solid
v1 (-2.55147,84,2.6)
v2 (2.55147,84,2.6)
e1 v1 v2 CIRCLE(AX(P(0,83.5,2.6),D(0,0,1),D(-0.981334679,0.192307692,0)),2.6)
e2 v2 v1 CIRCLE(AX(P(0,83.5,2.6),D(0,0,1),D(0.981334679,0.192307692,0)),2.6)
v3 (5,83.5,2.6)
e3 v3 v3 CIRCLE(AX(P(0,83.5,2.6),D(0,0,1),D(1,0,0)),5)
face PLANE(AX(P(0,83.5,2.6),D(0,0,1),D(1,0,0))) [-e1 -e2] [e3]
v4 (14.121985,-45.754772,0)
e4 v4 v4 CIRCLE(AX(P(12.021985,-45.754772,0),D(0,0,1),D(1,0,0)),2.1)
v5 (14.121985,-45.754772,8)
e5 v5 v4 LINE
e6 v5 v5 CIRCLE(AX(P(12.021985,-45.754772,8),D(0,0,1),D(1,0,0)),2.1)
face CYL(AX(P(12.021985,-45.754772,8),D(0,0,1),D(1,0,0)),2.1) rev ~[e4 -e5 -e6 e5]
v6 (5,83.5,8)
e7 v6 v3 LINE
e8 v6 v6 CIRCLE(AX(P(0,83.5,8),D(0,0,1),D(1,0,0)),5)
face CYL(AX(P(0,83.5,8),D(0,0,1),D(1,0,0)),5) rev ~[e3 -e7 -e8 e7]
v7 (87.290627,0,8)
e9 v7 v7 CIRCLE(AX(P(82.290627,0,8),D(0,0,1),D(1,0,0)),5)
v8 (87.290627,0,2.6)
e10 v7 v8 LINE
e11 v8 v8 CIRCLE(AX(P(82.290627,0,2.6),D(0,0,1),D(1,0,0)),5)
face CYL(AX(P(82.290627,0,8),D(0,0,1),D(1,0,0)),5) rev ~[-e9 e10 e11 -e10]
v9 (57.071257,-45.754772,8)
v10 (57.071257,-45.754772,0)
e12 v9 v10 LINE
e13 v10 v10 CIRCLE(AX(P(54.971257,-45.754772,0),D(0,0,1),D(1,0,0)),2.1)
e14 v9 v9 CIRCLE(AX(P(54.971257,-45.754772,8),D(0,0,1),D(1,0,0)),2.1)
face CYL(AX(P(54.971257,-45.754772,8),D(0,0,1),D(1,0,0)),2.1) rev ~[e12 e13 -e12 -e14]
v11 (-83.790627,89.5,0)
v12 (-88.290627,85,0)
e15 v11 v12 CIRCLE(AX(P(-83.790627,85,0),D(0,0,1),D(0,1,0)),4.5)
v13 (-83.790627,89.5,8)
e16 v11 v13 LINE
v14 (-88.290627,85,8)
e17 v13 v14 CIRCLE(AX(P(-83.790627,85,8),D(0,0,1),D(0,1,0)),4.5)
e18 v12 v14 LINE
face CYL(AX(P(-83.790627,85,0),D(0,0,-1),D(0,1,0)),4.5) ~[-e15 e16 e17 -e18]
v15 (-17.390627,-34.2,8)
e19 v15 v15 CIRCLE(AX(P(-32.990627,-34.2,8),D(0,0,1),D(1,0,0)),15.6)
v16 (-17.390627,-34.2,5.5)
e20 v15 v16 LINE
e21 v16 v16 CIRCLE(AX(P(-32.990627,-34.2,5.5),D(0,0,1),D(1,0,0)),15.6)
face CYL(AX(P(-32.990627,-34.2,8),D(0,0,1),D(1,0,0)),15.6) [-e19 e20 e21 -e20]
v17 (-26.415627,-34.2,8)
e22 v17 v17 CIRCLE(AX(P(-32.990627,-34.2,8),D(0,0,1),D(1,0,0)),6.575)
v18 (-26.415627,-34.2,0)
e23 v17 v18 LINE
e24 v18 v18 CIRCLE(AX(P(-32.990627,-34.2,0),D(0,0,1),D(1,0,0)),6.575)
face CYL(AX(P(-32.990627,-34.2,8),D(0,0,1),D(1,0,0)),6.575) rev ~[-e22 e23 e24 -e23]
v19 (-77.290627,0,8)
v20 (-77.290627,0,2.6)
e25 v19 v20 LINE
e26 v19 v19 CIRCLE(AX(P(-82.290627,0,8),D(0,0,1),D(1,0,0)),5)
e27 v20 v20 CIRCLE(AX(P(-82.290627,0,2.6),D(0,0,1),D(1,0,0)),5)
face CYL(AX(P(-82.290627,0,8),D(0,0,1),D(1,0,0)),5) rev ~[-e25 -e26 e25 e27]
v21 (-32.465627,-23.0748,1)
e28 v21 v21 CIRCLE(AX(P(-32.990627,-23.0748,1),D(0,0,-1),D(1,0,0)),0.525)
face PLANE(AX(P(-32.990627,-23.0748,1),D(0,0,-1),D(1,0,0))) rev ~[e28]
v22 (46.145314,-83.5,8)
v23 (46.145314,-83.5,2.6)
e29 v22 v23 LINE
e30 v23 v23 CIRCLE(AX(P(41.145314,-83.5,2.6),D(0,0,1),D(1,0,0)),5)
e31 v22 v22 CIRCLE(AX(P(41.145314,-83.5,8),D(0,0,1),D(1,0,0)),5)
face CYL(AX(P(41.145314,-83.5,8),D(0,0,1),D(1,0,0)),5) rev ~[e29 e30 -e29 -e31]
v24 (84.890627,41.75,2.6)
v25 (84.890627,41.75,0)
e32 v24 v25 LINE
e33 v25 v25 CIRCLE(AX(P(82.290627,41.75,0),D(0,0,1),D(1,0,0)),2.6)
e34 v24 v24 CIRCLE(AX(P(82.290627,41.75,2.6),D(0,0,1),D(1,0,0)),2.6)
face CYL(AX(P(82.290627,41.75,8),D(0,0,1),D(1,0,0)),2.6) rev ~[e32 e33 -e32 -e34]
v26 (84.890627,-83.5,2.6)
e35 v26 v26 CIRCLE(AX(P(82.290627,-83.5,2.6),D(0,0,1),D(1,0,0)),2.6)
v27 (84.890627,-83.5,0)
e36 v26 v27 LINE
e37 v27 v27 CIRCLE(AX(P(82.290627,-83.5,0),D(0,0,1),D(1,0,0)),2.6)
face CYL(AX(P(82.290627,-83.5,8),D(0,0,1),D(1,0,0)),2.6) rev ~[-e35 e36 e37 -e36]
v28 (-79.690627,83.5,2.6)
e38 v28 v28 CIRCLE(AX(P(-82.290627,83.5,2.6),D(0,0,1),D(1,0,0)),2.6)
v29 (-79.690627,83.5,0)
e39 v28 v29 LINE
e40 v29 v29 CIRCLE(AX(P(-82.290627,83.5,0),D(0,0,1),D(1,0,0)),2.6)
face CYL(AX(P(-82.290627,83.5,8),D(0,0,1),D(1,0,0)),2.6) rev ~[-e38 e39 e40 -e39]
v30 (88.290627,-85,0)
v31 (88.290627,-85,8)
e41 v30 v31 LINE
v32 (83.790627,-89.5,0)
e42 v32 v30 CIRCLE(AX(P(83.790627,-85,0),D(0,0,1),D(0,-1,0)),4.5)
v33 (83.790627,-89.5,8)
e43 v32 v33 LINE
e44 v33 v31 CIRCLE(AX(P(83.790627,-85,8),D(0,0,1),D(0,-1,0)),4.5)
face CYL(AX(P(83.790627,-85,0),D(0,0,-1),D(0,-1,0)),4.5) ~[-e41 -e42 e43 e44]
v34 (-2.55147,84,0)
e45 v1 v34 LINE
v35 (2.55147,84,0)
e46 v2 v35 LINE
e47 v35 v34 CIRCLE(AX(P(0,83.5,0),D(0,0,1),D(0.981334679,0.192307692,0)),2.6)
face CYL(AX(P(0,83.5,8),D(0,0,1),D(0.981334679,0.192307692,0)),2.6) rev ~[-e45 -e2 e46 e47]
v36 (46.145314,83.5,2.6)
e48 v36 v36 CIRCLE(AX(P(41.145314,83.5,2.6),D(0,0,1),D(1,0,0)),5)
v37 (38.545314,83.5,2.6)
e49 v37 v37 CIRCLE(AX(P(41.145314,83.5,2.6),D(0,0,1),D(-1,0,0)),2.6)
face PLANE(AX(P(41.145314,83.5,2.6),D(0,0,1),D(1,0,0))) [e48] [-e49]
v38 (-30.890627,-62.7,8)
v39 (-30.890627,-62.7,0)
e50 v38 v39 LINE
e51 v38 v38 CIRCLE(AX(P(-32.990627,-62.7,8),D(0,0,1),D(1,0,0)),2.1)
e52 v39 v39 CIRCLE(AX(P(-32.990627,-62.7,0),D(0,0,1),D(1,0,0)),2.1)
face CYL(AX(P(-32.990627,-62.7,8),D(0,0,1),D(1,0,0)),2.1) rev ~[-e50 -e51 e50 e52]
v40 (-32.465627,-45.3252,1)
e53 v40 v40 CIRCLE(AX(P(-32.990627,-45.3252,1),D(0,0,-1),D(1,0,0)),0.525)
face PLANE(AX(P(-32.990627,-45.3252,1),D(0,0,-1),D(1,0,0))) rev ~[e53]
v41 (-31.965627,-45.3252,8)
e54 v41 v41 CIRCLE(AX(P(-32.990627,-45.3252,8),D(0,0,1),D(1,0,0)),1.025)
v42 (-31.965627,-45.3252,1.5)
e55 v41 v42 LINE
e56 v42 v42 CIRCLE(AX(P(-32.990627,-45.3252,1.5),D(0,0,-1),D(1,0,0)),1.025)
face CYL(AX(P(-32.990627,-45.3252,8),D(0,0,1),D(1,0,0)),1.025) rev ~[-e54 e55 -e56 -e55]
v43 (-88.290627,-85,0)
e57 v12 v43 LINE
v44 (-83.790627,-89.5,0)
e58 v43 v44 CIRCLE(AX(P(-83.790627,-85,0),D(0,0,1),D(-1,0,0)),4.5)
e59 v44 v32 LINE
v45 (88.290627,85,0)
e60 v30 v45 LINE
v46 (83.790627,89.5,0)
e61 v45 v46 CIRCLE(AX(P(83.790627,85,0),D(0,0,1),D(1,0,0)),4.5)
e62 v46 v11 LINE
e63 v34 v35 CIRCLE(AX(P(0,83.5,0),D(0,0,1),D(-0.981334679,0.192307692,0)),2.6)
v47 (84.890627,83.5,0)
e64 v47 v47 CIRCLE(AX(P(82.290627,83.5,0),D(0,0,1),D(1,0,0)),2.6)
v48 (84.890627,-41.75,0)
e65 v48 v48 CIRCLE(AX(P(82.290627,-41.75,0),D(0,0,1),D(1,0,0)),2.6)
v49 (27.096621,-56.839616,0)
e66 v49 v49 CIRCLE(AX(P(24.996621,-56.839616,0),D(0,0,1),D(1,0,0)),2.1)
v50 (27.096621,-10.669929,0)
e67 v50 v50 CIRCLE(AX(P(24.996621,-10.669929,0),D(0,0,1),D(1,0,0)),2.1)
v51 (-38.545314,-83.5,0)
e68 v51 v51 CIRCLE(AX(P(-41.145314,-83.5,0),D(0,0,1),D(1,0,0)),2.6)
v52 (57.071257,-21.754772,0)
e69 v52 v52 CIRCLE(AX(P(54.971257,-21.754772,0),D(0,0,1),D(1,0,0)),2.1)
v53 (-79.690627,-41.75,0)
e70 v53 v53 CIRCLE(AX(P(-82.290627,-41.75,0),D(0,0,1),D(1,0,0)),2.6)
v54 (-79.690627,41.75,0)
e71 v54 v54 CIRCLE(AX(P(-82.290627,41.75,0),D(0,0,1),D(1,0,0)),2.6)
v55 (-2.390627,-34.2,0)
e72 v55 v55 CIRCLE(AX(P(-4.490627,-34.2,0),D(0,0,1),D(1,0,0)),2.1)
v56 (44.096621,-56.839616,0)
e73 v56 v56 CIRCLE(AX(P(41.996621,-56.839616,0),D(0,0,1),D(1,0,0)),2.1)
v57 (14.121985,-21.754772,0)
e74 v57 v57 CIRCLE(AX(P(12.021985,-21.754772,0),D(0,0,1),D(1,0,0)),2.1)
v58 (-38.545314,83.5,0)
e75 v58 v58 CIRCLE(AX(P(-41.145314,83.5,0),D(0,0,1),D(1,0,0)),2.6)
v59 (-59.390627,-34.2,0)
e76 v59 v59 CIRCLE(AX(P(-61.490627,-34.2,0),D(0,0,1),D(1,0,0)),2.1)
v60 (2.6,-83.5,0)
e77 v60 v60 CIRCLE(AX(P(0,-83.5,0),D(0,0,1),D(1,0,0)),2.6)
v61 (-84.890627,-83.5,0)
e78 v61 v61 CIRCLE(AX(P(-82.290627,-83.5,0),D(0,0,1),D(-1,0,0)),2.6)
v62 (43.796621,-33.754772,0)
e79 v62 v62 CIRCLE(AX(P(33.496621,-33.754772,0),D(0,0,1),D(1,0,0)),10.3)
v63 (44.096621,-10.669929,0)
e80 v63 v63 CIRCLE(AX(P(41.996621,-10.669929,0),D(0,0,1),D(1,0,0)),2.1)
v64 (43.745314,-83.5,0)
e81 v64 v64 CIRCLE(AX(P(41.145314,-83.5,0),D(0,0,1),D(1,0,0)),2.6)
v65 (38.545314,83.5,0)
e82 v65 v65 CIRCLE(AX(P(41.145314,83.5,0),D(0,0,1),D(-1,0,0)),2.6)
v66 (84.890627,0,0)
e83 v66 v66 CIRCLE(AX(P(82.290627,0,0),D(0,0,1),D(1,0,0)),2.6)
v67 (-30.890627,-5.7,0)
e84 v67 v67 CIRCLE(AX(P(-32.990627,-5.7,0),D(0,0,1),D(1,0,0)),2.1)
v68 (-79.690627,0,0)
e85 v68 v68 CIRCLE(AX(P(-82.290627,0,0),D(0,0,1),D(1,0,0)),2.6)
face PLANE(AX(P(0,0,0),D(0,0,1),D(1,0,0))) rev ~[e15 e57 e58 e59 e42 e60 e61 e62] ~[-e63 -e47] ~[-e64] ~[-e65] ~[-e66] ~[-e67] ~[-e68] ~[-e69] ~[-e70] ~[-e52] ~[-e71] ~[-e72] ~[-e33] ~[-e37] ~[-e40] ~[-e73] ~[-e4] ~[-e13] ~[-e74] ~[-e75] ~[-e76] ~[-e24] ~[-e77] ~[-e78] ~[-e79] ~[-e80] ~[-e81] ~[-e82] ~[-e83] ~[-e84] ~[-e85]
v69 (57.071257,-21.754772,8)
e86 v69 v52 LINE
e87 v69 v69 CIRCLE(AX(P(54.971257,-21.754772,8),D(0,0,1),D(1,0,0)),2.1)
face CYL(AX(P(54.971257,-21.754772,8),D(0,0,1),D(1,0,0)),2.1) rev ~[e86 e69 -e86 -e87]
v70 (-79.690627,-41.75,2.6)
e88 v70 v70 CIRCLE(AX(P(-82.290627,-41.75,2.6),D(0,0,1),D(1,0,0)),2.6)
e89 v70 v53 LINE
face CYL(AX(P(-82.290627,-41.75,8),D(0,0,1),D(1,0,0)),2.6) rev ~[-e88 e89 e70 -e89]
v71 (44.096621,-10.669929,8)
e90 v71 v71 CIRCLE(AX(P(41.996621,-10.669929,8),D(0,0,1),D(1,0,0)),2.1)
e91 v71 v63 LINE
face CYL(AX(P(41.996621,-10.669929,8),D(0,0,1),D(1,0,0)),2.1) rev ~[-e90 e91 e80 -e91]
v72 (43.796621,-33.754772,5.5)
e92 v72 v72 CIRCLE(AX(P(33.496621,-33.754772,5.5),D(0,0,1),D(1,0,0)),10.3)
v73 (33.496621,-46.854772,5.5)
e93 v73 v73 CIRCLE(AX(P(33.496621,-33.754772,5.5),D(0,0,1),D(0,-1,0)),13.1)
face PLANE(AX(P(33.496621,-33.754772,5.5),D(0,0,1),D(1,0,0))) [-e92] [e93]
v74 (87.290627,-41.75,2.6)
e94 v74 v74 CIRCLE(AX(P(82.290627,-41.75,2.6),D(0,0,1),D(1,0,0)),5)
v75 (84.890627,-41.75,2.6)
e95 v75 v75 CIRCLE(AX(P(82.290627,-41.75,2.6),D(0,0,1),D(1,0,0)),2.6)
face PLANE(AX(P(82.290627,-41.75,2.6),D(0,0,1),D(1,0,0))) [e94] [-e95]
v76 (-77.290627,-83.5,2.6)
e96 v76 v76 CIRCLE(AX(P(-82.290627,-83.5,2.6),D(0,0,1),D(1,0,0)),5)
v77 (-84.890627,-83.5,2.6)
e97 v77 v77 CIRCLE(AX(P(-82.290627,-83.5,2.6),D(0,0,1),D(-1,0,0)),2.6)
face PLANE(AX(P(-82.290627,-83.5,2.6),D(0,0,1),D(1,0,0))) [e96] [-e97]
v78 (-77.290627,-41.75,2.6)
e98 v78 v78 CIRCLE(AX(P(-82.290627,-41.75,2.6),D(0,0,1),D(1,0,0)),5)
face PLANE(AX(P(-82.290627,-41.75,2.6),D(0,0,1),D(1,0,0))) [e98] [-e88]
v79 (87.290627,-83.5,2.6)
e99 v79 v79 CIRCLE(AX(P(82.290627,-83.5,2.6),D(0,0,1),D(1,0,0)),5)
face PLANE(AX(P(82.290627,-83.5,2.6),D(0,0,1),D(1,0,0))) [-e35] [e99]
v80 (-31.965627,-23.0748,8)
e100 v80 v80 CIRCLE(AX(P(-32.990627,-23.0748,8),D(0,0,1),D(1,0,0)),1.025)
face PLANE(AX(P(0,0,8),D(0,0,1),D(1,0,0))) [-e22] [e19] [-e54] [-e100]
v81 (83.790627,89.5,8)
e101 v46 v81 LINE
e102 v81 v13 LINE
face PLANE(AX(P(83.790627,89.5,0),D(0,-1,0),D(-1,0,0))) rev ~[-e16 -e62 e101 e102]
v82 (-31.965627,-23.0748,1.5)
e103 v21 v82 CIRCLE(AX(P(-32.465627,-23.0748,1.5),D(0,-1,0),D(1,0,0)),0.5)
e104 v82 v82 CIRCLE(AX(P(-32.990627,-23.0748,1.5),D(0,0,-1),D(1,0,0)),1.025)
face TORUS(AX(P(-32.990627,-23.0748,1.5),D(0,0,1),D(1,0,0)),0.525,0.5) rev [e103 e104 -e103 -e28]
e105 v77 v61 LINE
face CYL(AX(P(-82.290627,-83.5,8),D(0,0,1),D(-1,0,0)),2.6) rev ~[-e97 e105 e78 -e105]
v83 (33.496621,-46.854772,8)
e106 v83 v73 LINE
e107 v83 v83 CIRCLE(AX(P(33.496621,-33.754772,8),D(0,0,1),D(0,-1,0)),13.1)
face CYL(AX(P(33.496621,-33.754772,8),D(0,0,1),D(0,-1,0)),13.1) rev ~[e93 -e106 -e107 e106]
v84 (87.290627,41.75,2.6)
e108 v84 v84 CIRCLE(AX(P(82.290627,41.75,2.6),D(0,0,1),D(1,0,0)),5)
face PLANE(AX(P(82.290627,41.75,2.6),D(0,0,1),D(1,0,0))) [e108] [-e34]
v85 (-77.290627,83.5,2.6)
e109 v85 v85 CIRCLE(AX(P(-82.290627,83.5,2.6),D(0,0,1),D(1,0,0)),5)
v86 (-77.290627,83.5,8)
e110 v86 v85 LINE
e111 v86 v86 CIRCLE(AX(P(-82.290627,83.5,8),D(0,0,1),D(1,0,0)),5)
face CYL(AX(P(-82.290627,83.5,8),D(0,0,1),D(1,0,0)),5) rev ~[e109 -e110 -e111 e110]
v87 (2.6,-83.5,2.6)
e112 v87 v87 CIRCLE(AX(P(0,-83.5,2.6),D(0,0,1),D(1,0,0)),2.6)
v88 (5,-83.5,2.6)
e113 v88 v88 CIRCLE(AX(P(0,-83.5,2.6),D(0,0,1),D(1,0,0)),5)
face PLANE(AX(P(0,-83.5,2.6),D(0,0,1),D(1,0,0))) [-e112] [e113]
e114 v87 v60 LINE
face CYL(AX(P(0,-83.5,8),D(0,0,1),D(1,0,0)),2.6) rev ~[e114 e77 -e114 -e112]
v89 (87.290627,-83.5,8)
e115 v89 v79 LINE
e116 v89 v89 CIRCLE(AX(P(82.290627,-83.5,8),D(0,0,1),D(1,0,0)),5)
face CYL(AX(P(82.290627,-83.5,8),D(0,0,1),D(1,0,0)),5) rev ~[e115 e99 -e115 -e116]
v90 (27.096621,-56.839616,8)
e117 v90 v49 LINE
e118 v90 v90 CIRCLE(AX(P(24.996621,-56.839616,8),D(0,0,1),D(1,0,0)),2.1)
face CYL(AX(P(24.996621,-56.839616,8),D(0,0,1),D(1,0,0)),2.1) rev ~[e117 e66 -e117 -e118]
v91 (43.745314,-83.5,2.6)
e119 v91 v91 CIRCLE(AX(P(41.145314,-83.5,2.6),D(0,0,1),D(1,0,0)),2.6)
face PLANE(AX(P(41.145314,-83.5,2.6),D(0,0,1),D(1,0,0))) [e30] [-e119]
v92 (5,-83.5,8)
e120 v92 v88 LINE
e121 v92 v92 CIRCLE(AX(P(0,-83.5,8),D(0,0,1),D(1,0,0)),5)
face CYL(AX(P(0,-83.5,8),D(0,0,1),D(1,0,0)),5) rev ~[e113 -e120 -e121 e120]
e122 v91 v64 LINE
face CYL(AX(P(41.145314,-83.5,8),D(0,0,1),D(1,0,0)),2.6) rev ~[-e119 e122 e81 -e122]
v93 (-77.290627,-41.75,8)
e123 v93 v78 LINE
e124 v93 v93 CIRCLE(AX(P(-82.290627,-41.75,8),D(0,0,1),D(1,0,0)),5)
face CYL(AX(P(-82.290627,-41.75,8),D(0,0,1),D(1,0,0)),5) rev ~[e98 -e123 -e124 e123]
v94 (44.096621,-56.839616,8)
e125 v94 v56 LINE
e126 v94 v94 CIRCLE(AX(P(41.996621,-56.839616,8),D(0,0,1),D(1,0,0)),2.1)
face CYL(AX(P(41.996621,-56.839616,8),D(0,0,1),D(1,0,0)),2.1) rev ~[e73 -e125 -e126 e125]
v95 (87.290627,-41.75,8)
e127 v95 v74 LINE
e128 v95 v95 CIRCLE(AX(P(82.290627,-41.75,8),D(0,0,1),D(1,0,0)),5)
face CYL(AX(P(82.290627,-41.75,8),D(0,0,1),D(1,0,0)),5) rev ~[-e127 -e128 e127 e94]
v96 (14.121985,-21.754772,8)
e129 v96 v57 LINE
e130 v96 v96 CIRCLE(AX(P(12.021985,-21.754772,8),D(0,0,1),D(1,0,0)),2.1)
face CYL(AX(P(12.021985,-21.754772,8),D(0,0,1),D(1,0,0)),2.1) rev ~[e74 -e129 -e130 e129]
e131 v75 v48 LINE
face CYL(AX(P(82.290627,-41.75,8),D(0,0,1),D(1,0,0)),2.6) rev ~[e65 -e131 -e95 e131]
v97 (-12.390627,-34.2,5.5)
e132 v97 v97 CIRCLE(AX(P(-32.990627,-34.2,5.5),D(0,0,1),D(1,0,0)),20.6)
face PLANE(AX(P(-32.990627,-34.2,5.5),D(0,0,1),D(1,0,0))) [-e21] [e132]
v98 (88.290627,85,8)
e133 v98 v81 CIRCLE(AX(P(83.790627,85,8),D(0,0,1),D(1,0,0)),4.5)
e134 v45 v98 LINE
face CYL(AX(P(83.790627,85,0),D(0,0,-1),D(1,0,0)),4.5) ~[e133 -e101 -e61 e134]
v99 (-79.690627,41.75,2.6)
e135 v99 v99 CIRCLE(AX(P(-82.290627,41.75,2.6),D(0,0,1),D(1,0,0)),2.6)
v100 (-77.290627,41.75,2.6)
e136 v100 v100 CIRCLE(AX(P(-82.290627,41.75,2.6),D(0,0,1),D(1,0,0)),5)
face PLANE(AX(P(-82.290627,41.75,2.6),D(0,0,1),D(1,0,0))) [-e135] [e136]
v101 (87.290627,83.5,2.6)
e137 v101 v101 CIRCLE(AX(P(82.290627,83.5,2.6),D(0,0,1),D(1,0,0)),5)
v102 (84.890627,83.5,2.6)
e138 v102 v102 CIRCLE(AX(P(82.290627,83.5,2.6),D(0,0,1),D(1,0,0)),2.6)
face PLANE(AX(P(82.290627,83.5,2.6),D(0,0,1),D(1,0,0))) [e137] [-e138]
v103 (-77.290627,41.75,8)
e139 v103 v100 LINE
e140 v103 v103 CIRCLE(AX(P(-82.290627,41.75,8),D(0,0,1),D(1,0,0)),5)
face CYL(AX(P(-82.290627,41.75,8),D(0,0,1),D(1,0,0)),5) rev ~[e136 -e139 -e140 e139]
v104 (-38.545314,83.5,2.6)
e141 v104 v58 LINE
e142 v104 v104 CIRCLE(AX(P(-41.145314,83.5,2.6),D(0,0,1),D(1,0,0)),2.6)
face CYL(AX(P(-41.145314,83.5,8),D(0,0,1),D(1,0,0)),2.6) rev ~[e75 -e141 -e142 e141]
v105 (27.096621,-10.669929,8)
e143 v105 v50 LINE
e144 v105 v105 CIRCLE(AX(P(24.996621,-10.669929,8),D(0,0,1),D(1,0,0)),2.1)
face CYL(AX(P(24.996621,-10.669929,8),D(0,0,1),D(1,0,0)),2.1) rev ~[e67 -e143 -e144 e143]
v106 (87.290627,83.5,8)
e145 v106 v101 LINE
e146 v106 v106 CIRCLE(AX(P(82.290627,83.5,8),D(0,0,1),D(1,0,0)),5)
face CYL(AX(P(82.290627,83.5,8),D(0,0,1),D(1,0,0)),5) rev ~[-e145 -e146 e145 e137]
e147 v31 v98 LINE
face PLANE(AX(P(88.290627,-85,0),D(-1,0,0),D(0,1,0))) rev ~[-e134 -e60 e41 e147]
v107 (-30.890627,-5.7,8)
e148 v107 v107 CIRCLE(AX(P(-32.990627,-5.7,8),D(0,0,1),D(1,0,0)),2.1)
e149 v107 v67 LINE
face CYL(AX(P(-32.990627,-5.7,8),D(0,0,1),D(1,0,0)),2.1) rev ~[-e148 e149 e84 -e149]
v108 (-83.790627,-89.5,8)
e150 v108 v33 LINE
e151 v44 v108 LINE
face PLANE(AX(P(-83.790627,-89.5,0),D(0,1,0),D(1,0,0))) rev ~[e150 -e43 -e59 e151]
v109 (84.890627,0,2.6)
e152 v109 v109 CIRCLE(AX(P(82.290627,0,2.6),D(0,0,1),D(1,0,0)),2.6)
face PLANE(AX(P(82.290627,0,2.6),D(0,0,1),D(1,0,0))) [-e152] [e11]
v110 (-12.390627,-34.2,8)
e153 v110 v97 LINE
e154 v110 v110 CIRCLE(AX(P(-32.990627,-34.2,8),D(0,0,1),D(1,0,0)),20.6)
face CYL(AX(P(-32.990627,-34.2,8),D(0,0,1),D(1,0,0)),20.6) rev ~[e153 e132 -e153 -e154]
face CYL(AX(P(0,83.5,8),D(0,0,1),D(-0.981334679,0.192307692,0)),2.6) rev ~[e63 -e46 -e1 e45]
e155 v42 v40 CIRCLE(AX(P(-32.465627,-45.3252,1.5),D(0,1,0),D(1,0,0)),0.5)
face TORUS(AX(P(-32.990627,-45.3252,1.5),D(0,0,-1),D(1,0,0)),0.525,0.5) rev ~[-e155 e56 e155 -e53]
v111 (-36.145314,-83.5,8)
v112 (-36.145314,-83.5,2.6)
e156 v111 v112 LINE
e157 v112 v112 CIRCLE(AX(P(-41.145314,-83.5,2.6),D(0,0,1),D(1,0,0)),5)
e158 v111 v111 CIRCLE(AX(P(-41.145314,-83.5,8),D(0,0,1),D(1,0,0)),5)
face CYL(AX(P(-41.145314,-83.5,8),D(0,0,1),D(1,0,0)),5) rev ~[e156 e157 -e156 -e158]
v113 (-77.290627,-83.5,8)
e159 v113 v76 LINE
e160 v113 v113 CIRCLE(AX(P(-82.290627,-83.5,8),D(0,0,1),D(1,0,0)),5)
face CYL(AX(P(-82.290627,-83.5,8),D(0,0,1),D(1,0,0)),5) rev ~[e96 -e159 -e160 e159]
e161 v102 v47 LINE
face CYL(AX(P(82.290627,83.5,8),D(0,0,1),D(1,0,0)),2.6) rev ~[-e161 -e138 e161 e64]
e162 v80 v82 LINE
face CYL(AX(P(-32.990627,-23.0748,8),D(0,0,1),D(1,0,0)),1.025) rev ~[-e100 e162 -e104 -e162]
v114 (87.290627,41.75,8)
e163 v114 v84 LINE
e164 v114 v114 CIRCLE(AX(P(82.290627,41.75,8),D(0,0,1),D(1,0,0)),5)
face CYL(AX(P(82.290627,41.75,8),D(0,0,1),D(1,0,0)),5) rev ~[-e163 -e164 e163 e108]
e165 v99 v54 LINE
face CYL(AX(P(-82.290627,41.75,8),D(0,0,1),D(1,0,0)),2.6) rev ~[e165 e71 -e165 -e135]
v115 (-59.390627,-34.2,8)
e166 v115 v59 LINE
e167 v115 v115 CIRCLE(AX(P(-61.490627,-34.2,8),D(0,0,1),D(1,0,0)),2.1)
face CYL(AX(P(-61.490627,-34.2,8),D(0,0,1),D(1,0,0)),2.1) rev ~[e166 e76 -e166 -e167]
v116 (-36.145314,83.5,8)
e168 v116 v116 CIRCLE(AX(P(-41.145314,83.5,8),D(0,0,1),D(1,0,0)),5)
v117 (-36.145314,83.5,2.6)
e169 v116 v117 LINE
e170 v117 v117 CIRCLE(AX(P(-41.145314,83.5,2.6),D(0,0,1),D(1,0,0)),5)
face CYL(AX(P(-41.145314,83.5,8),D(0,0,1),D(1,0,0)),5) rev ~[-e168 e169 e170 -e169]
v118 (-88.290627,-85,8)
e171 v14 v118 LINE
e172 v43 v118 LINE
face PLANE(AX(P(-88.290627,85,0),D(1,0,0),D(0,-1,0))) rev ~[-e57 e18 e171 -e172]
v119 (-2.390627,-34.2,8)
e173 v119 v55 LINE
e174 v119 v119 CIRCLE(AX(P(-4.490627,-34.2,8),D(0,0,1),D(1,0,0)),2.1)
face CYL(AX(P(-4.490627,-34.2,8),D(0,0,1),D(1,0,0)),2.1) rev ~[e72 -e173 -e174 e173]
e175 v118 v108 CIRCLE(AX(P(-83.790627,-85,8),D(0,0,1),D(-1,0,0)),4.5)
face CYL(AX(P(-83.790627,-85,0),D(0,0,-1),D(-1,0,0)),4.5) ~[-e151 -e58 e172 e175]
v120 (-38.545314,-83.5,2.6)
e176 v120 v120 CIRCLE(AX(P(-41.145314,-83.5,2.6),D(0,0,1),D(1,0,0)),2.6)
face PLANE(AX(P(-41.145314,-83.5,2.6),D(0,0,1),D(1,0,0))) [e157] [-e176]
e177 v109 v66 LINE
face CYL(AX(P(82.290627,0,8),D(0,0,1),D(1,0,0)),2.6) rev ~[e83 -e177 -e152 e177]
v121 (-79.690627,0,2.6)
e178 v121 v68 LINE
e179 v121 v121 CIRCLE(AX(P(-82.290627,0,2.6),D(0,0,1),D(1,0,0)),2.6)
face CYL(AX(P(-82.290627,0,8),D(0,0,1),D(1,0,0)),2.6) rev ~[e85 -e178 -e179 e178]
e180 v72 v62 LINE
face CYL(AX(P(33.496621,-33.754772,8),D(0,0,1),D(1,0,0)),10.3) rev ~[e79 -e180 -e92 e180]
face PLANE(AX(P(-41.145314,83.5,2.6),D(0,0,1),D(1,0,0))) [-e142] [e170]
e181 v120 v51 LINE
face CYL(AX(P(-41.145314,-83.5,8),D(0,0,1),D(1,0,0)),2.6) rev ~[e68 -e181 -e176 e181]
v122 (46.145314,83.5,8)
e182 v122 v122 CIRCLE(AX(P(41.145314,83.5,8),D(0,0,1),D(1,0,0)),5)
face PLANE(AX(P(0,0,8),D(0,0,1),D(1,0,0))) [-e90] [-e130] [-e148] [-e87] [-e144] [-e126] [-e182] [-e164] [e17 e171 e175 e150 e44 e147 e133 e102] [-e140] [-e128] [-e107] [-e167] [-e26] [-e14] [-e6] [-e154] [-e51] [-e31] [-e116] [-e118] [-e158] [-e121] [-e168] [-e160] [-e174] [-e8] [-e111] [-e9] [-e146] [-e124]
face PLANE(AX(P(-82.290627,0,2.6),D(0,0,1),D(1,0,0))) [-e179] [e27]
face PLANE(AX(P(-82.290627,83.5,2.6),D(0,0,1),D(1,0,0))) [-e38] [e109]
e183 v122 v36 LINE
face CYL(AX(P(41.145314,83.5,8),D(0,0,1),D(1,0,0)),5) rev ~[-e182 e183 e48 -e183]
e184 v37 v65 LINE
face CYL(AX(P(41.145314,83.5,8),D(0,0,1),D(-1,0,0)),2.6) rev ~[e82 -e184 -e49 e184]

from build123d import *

# Parameters (mm, degrees)
BOSS_EXTRUDE1_DEPTH = 8
CUT_EXTRUDE1_DEPTH  = 90
SKETCH3_R           = 5
CUT_EXTRUDE2_DEPTH  = 5.4
SKETCH5_R           = 10.3
CUT_EXTRUDE3_DEPTH  = 20
SKETCH7_R           = 20.6
SKETCH7_R_2         = 15.6
CUT_EXTRUDE5_DEPTH  = 2.5
CUT_EXTRUDE6_REACH  = 127.974
SKETCH9_R           = 6.575
SKETCH9_R_2         = 2.1
SKETCH9_R_3         = 1.025
SKETCH10_R          = 2.1
CUT_EXTRUDE10_DEPTH = 10
CUT_EXTRUDE11_DEPTH = 2.5
BOSS_EXTRUDE2_START = -1
SKETCH12_R          = 1.025
BOSS_EXTRUDE2_DEPTH = 1
FILLET1_R           = 0.5


with BuildPart() as part:
    # Sketch1 → Boss-Extrude1 (new body)
    with BuildSketch(Plane.XY):
        with BuildLine():
            Line((-83.790627288, -89.5), (83.790627288, -89.5))
            ThreePointArc((83.790627288, -89.5), (86.972607803, -88.181980515), (88.290627288, -85))
            Line((88.290627288, -85), (88.290627288, 85))
            ThreePointArc((88.290627288, 85), (86.972607803, 88.181980515), (83.790627288, 89.5))
            Line((83.790627288, 89.5), (-83.790627288, 89.5))
            ThreePointArc((-83.790627288, 89.5), (-86.972607803, 88.181980515), (-88.290627288, 85))
            Line((-88.290627288, 85), (-88.290627288, -85))
            ThreePointArc((-88.290627288, -85), (-86.972607803, -88.181980515), (-83.790627288, -89.5))
        make_face()
    extrude(amount=BOSS_EXTRUDE1_DEPTH)

    # Sketch2 → Cut-Extrude1 (cut)
    with BuildSketch(Plane.XY.offset(8)):
        with BuildLine():
            ThreePointArc((43.745313644, 83.5), (41.145313644, 86.1), (38.545313644, 83.5))
            ThreePointArc((38.545313644, 83.5), (41.145313644, 80.9), (43.745313644, 83.5))
        make_face()
        with BuildLine():
            Line((0, 84), (2.551470164, 84))
            ThreePointArc((2.551470164, 84), (0, 86.1), (-2.551470164, 84))
            Line((-2.551470164, 84), (0, 84))
        make_face()
        with BuildLine():
            Line((0, 84), (-2.551470164, 84))
            ThreePointArc((-2.551470164, 84), (0, 80.9), (2.551470164, 84))
            Line((2.551470164, 84), (0, 84))
        make_face()
        with BuildLine():
            ThreePointArc((-43.745313644, 83.5), (-41.145313644, 80.9), (-38.545313644, 83.5))
            ThreePointArc((-38.545313644, 83.5), (-41.145313644, 86.1), (-43.745313644, 83.5))
        make_face()
        with BuildLine():
            ThreePointArc((-84.890627288, 83.5), (-82.290627288, 80.9), (-79.690627288, 83.5))
            ThreePointArc((-79.690627288, 83.5), (-82.290627288, 86.1), (-84.890627288, 83.5))
        make_face()
        with BuildLine():
            ThreePointArc((-84.890627288, 41.75), (-82.290627288, 39.15), (-79.690627288, 41.75))
            ThreePointArc((-79.690627288, 41.75), (-82.290627288, 44.35), (-84.890627288, 41.75))
        make_face()
        with BuildLine():
            ThreePointArc((-84.890627288, 0), (-82.290627288, -2.6), (-79.690627288, 0))
            ThreePointArc((-79.690627288, 0), (-82.290627288, 2.6), (-84.890627288, 0))
        make_face()
        with BuildLine():
            ThreePointArc((-79.690627288, -83.5), (-82.290627288, -80.9), (-84.890627288, -83.5))
            ThreePointArc((-84.890627288, -83.5), (-82.290627288, -86.1), (-79.690627288, -83.5))
        make_face()
        with BuildLine():
            ThreePointArc((-84.890627288, -41.75), (-82.290627288, -44.35), (-79.690627288, -41.75))
            ThreePointArc((-79.690627288, -41.75), (-82.290627288, -39.15), (-84.890627288, -41.75))
        make_face()
        with BuildLine():
            ThreePointArc((-43.745313644, -83.5), (-41.145313644, -86.1), (-38.545313644, -83.5))
            ThreePointArc((-38.545313644, -83.5), (-41.145313644, -80.9), (-43.745313644, -83.5))
        make_face()
        with BuildLine():
            ThreePointArc((-2.6, -83.5), (0, -86.1), (2.6, -83.5))
            ThreePointArc((2.6, -83.5), (0, -80.9), (-2.6, -83.5))
        make_face()
        with BuildLine():
            ThreePointArc((38.545313644, -83.5), (41.145313644, -86.1), (43.745313644, -83.5))
            ThreePointArc((43.745313644, -83.5), (41.145313644, -80.9), (38.545313644, -83.5))
        make_face()
        with BuildLine():
            ThreePointArc((79.690627288, -83.5), (82.290627288, -86.1), (84.890627288, -83.5))
            ThreePointArc((84.890627288, -83.5), (82.290627288, -80.9), (79.690627288, -83.5))
        make_face()
        with BuildLine():
            ThreePointArc((79.690627288, -41.75), (82.290627288, -44.35), (84.890627288, -41.75))
            ThreePointArc((84.890627288, -41.75), (82.290627288, -39.15), (79.690627288, -41.75))
        make_face()
        with BuildLine():
            ThreePointArc((79.690627288, 0), (82.290627288, -2.6), (84.890627288, 0))
            ThreePointArc((84.890627288, 0), (82.290627288, 2.6), (79.690627288, 0))
        make_face()
        with BuildLine():
            ThreePointArc((79.690627288, 41.75), (82.290627288, 39.15), (84.890627288, 41.75))
            ThreePointArc((84.890627288, 41.75), (82.290627288, 44.35), (79.690627288, 41.75))
        make_face()
        with BuildLine():
            ThreePointArc((79.690627288, 83.5), (82.290627288, 80.9), (84.890627288, 83.5))
            ThreePointArc((84.890627288, 83.5), (82.290627288, 86.1), (79.690627288, 83.5))
        make_face()
    extrude(amount=-CUT_EXTRUDE1_DEPTH, mode=Mode.SUBTRACT)

    # Sketch3 → Cut-Extrude2 (cut)
    with BuildSketch(Plane.XY.offset(8)):
        with Locations((41.145313644, 83.5)):
            Circle(SKETCH3_R)
        with Locations((82.290627288, 83.5)):
            Circle(SKETCH3_R)
        with Locations((82.290627288, 41.75)):
            Circle(SKETCH3_R)
        with Locations((82.290627288, 0)):
            Circle(SKETCH3_R)
        with Locations((82.290627288, -41.75)):
            Circle(SKETCH3_R)
        with Locations((82.290627288, -83.5)):
            Circle(SKETCH3_R)
        with Locations((41.145313644, -83.5)):
            Circle(SKETCH3_R)
        with Locations((0, -83.5)):
            Circle(SKETCH3_R)
        with Locations((-82.290627288, 0)):
            Circle(SKETCH3_R)
        with Locations((-82.290627288, -83.5)):
            Circle(SKETCH3_R)
        with Locations((-82.290627288, -41.75)):
            Circle(SKETCH3_R)
        with Locations((-41.145313644, -83.5)):
            Circle(SKETCH3_R)
        with Locations((-82.290627288, 41.75)):
            Circle(SKETCH3_R)
        with Locations((-82.290627288, 83.5)):
            Circle(SKETCH3_R)
        with Locations((-41.145313644, 83.5)):
            Circle(SKETCH3_R)
        with Locations((0, 83.5)):
            Circle(SKETCH3_R)
    extrude(amount=-CUT_EXTRUDE2_DEPTH, mode=Mode.SUBTRACT)

    # Sketch5 → Cut-Extrude3 (cut)
    with BuildSketch(Plane.XY.offset(8)):
        with Locations((33.49662103, -33.754772237)):
            Circle(SKETCH5_R)
    extrude(amount=-CUT_EXTRUDE3_DEPTH, mode=Mode.SUBTRACT)

    # Sketch7 → Cut-Extrude5 (cut)
    with BuildSketch(Plane.XY.offset(8)):
        with Locations((-32.990627288, -34.2)):
            Circle(SKETCH7_R)
        with Locations((-32.990627288, -34.2)):
            Circle(SKETCH7_R_2, mode=Mode.SUBTRACT)
    extrude(amount=-CUT_EXTRUDE5_DEPTH, mode=Mode.SUBTRACT)

    # Sketch9 → Cut-Extrude6 (cut, up to next)
    with BuildSketch(Plane.XY.offset(8), mode=Mode.PRIVATE) as cut_extrude6_sk1:
        with Locations((-32.990627288, -34.2)):
            Circle(SKETCH9_R)
    cut_extrude6_tool1 = extrude(cut_extrude6_sk1.sketch, amount=-CUT_EXTRUDE6_REACH, mode=Mode.PRIVATE) & part.part
    # Sketch9 → Cut-Extrude6 (cut, up to next)
    with BuildSketch(Plane.XY.offset(8), mode=Mode.PRIVATE) as cut_extrude6_sk2:
        with Locations((-32.990627288, -5.7)):
            Circle(SKETCH9_R_2)
    cut_extrude6_tool2 = extrude(cut_extrude6_sk2.sketch, amount=-CUT_EXTRUDE6_REACH, mode=Mode.PRIVATE) & part.part
    # Sketch9 → Cut-Extrude6 (cut, up to next)
    with BuildSketch(Plane.XY.offset(8), mode=Mode.PRIVATE) as cut_extrude6_sk3:
        with Locations((-32.990627288, -23.0748)):
            Circle(SKETCH9_R_3)
    cut_extrude6_tool3 = extrude(cut_extrude6_sk3.sketch, amount=-CUT_EXTRUDE6_REACH, mode=Mode.PRIVATE) & part.part
    # Sketch9 → Cut-Extrude6 (cut, up to next)
    with BuildSketch(Plane.XY.offset(8), mode=Mode.PRIVATE) as cut_extrude6_sk4:
        with Locations((-32.990627288, -45.3252)):
            Circle(SKETCH9_R_3)
    cut_extrude6_tool4 = extrude(cut_extrude6_sk4.sketch, amount=-CUT_EXTRUDE6_REACH, mode=Mode.PRIVATE) & part.part
    # Sketch9 → Cut-Extrude6 (cut, up to next)
    with BuildSketch(Plane.XY.offset(8), mode=Mode.PRIVATE) as cut_extrude6_sk5:
        with Locations((-4.490627288, -34.2)):
            Circle(SKETCH9_R_2)
    cut_extrude6_tool5 = extrude(cut_extrude6_sk5.sketch, amount=-CUT_EXTRUDE6_REACH, mode=Mode.PRIVATE) & part.part
    # Sketch9 → Cut-Extrude6 (cut, up to next)
    with BuildSketch(Plane.XY.offset(8), mode=Mode.PRIVATE) as cut_extrude6_sk6:
        with Locations((-32.990627288, -62.7)):
            Circle(SKETCH9_R_2)
    cut_extrude6_tool6 = extrude(cut_extrude6_sk6.sketch, amount=-CUT_EXTRUDE6_REACH, mode=Mode.PRIVATE) & part.part
    # Sketch9 → Cut-Extrude6 (cut, up to next)
    with BuildSketch(Plane.XY.offset(8), mode=Mode.PRIVATE) as cut_extrude6_sk7:
        with Locations((-61.490627288, -34.2)):
            Circle(SKETCH9_R_2)
    cut_extrude6_tool7 = extrude(cut_extrude6_sk7.sketch, amount=-CUT_EXTRUDE6_REACH, mode=Mode.PRIVATE) & part.part
    add(cut_extrude6_tool1.solids().sort_by_distance((-32.990627, -34.2, 8))[0], mode=Mode.SUBTRACT)
    add(cut_extrude6_tool2.solids().sort_by_distance((-32.990627, -5.7, 8))[0], mode=Mode.SUBTRACT)
    add(cut_extrude6_tool3.solids().sort_by_distance((-32.990627, -23.0748, 8))[0], mode=Mode.SUBTRACT)
    add(cut_extrude6_tool4.solids().sort_by_distance((-32.990627, -45.3252, 8))[0], mode=Mode.SUBTRACT)
    add(cut_extrude6_tool5.solids().sort_by_distance((-4.490627, -34.2, 8))[0], mode=Mode.SUBTRACT)
    add(cut_extrude6_tool6.solids().sort_by_distance((-32.990627, -62.7, 8))[0], mode=Mode.SUBTRACT)
    add(cut_extrude6_tool7.solids().sort_by_distance((-61.490627, -34.2, 8))[0], mode=Mode.SUBTRACT)

    # Sketch10 → Cut-Extrude10 (cut)
    with BuildSketch(Plane.XY.offset(8)):
        with Locations((54.971257232, -21.754772237)):
            Circle(SKETCH10_R)
        with Locations((41.99662103, -10.669928724)):
            Circle(SKETCH10_R)
        with Locations((24.99662103, -10.669928724)):
            Circle(SKETCH10_R)
        with Locations((12.021984828, -21.754772237)):
            Circle(SKETCH10_R)
        with Locations((12.021984828, -45.754772237)):
            Circle(SKETCH10_R)
        with Locations((24.99662103, -56.839615749)):
            Circle(SKETCH10_R)
        with Locations((41.99662103, -56.839615749)):
            Circle(SKETCH10_R)
        with Locations((54.971257232, -45.754772237)):
            Circle(SKETCH10_R)
    extrude(amount=-CUT_EXTRUDE10_DEPTH, mode=Mode.SUBTRACT)

    # Sketch11 → Cut-Extrude11 (cut)
    with BuildSketch(Plane.XY.offset(8)):
        with BuildLine():
            ThreePointArc((33.49662103, -20.654772237), (20.39662103, -33.754772237), (33.49662103, -46.854772237))
            ThreePointArc((33.49662103, -46.854772237), (46.59662103, -33.754772237), (33.49662103, -20.654772237))
        make_face()
    extrude(amount=-CUT_EXTRUDE11_DEPTH, mode=Mode.SUBTRACT)

    # Sketch12 → Boss-Extrude2 (add)
    with BuildSketch(Plane(origin=(0, 0, 0), x_dir=(-1, 0, 0), z_dir=(0, 0, -1)).offset(BOSS_EXTRUDE2_START)):
        with Locations(Location((32.990627288, -23.0748, 0), (0, 0, 180))):
            Circle(SKETCH12_R)
        with Locations(Location((32.990627288, -45.3252, 0), (0, 0, 180))):
            Circle(SKETCH12_R)
    extrude(amount=BOSS_EXTRUDE2_DEPTH)

    # Fillet1
    fillet1_edges = [part.edges().sort_by_distance(p)[0] for p in [
        (-34.015627288, -23.0748, 1),
        (-34.015627288, -45.3252, 1),
    ]]
    fillet(fillet1_edges, radius=FILLET1_R)


solid = part.part
